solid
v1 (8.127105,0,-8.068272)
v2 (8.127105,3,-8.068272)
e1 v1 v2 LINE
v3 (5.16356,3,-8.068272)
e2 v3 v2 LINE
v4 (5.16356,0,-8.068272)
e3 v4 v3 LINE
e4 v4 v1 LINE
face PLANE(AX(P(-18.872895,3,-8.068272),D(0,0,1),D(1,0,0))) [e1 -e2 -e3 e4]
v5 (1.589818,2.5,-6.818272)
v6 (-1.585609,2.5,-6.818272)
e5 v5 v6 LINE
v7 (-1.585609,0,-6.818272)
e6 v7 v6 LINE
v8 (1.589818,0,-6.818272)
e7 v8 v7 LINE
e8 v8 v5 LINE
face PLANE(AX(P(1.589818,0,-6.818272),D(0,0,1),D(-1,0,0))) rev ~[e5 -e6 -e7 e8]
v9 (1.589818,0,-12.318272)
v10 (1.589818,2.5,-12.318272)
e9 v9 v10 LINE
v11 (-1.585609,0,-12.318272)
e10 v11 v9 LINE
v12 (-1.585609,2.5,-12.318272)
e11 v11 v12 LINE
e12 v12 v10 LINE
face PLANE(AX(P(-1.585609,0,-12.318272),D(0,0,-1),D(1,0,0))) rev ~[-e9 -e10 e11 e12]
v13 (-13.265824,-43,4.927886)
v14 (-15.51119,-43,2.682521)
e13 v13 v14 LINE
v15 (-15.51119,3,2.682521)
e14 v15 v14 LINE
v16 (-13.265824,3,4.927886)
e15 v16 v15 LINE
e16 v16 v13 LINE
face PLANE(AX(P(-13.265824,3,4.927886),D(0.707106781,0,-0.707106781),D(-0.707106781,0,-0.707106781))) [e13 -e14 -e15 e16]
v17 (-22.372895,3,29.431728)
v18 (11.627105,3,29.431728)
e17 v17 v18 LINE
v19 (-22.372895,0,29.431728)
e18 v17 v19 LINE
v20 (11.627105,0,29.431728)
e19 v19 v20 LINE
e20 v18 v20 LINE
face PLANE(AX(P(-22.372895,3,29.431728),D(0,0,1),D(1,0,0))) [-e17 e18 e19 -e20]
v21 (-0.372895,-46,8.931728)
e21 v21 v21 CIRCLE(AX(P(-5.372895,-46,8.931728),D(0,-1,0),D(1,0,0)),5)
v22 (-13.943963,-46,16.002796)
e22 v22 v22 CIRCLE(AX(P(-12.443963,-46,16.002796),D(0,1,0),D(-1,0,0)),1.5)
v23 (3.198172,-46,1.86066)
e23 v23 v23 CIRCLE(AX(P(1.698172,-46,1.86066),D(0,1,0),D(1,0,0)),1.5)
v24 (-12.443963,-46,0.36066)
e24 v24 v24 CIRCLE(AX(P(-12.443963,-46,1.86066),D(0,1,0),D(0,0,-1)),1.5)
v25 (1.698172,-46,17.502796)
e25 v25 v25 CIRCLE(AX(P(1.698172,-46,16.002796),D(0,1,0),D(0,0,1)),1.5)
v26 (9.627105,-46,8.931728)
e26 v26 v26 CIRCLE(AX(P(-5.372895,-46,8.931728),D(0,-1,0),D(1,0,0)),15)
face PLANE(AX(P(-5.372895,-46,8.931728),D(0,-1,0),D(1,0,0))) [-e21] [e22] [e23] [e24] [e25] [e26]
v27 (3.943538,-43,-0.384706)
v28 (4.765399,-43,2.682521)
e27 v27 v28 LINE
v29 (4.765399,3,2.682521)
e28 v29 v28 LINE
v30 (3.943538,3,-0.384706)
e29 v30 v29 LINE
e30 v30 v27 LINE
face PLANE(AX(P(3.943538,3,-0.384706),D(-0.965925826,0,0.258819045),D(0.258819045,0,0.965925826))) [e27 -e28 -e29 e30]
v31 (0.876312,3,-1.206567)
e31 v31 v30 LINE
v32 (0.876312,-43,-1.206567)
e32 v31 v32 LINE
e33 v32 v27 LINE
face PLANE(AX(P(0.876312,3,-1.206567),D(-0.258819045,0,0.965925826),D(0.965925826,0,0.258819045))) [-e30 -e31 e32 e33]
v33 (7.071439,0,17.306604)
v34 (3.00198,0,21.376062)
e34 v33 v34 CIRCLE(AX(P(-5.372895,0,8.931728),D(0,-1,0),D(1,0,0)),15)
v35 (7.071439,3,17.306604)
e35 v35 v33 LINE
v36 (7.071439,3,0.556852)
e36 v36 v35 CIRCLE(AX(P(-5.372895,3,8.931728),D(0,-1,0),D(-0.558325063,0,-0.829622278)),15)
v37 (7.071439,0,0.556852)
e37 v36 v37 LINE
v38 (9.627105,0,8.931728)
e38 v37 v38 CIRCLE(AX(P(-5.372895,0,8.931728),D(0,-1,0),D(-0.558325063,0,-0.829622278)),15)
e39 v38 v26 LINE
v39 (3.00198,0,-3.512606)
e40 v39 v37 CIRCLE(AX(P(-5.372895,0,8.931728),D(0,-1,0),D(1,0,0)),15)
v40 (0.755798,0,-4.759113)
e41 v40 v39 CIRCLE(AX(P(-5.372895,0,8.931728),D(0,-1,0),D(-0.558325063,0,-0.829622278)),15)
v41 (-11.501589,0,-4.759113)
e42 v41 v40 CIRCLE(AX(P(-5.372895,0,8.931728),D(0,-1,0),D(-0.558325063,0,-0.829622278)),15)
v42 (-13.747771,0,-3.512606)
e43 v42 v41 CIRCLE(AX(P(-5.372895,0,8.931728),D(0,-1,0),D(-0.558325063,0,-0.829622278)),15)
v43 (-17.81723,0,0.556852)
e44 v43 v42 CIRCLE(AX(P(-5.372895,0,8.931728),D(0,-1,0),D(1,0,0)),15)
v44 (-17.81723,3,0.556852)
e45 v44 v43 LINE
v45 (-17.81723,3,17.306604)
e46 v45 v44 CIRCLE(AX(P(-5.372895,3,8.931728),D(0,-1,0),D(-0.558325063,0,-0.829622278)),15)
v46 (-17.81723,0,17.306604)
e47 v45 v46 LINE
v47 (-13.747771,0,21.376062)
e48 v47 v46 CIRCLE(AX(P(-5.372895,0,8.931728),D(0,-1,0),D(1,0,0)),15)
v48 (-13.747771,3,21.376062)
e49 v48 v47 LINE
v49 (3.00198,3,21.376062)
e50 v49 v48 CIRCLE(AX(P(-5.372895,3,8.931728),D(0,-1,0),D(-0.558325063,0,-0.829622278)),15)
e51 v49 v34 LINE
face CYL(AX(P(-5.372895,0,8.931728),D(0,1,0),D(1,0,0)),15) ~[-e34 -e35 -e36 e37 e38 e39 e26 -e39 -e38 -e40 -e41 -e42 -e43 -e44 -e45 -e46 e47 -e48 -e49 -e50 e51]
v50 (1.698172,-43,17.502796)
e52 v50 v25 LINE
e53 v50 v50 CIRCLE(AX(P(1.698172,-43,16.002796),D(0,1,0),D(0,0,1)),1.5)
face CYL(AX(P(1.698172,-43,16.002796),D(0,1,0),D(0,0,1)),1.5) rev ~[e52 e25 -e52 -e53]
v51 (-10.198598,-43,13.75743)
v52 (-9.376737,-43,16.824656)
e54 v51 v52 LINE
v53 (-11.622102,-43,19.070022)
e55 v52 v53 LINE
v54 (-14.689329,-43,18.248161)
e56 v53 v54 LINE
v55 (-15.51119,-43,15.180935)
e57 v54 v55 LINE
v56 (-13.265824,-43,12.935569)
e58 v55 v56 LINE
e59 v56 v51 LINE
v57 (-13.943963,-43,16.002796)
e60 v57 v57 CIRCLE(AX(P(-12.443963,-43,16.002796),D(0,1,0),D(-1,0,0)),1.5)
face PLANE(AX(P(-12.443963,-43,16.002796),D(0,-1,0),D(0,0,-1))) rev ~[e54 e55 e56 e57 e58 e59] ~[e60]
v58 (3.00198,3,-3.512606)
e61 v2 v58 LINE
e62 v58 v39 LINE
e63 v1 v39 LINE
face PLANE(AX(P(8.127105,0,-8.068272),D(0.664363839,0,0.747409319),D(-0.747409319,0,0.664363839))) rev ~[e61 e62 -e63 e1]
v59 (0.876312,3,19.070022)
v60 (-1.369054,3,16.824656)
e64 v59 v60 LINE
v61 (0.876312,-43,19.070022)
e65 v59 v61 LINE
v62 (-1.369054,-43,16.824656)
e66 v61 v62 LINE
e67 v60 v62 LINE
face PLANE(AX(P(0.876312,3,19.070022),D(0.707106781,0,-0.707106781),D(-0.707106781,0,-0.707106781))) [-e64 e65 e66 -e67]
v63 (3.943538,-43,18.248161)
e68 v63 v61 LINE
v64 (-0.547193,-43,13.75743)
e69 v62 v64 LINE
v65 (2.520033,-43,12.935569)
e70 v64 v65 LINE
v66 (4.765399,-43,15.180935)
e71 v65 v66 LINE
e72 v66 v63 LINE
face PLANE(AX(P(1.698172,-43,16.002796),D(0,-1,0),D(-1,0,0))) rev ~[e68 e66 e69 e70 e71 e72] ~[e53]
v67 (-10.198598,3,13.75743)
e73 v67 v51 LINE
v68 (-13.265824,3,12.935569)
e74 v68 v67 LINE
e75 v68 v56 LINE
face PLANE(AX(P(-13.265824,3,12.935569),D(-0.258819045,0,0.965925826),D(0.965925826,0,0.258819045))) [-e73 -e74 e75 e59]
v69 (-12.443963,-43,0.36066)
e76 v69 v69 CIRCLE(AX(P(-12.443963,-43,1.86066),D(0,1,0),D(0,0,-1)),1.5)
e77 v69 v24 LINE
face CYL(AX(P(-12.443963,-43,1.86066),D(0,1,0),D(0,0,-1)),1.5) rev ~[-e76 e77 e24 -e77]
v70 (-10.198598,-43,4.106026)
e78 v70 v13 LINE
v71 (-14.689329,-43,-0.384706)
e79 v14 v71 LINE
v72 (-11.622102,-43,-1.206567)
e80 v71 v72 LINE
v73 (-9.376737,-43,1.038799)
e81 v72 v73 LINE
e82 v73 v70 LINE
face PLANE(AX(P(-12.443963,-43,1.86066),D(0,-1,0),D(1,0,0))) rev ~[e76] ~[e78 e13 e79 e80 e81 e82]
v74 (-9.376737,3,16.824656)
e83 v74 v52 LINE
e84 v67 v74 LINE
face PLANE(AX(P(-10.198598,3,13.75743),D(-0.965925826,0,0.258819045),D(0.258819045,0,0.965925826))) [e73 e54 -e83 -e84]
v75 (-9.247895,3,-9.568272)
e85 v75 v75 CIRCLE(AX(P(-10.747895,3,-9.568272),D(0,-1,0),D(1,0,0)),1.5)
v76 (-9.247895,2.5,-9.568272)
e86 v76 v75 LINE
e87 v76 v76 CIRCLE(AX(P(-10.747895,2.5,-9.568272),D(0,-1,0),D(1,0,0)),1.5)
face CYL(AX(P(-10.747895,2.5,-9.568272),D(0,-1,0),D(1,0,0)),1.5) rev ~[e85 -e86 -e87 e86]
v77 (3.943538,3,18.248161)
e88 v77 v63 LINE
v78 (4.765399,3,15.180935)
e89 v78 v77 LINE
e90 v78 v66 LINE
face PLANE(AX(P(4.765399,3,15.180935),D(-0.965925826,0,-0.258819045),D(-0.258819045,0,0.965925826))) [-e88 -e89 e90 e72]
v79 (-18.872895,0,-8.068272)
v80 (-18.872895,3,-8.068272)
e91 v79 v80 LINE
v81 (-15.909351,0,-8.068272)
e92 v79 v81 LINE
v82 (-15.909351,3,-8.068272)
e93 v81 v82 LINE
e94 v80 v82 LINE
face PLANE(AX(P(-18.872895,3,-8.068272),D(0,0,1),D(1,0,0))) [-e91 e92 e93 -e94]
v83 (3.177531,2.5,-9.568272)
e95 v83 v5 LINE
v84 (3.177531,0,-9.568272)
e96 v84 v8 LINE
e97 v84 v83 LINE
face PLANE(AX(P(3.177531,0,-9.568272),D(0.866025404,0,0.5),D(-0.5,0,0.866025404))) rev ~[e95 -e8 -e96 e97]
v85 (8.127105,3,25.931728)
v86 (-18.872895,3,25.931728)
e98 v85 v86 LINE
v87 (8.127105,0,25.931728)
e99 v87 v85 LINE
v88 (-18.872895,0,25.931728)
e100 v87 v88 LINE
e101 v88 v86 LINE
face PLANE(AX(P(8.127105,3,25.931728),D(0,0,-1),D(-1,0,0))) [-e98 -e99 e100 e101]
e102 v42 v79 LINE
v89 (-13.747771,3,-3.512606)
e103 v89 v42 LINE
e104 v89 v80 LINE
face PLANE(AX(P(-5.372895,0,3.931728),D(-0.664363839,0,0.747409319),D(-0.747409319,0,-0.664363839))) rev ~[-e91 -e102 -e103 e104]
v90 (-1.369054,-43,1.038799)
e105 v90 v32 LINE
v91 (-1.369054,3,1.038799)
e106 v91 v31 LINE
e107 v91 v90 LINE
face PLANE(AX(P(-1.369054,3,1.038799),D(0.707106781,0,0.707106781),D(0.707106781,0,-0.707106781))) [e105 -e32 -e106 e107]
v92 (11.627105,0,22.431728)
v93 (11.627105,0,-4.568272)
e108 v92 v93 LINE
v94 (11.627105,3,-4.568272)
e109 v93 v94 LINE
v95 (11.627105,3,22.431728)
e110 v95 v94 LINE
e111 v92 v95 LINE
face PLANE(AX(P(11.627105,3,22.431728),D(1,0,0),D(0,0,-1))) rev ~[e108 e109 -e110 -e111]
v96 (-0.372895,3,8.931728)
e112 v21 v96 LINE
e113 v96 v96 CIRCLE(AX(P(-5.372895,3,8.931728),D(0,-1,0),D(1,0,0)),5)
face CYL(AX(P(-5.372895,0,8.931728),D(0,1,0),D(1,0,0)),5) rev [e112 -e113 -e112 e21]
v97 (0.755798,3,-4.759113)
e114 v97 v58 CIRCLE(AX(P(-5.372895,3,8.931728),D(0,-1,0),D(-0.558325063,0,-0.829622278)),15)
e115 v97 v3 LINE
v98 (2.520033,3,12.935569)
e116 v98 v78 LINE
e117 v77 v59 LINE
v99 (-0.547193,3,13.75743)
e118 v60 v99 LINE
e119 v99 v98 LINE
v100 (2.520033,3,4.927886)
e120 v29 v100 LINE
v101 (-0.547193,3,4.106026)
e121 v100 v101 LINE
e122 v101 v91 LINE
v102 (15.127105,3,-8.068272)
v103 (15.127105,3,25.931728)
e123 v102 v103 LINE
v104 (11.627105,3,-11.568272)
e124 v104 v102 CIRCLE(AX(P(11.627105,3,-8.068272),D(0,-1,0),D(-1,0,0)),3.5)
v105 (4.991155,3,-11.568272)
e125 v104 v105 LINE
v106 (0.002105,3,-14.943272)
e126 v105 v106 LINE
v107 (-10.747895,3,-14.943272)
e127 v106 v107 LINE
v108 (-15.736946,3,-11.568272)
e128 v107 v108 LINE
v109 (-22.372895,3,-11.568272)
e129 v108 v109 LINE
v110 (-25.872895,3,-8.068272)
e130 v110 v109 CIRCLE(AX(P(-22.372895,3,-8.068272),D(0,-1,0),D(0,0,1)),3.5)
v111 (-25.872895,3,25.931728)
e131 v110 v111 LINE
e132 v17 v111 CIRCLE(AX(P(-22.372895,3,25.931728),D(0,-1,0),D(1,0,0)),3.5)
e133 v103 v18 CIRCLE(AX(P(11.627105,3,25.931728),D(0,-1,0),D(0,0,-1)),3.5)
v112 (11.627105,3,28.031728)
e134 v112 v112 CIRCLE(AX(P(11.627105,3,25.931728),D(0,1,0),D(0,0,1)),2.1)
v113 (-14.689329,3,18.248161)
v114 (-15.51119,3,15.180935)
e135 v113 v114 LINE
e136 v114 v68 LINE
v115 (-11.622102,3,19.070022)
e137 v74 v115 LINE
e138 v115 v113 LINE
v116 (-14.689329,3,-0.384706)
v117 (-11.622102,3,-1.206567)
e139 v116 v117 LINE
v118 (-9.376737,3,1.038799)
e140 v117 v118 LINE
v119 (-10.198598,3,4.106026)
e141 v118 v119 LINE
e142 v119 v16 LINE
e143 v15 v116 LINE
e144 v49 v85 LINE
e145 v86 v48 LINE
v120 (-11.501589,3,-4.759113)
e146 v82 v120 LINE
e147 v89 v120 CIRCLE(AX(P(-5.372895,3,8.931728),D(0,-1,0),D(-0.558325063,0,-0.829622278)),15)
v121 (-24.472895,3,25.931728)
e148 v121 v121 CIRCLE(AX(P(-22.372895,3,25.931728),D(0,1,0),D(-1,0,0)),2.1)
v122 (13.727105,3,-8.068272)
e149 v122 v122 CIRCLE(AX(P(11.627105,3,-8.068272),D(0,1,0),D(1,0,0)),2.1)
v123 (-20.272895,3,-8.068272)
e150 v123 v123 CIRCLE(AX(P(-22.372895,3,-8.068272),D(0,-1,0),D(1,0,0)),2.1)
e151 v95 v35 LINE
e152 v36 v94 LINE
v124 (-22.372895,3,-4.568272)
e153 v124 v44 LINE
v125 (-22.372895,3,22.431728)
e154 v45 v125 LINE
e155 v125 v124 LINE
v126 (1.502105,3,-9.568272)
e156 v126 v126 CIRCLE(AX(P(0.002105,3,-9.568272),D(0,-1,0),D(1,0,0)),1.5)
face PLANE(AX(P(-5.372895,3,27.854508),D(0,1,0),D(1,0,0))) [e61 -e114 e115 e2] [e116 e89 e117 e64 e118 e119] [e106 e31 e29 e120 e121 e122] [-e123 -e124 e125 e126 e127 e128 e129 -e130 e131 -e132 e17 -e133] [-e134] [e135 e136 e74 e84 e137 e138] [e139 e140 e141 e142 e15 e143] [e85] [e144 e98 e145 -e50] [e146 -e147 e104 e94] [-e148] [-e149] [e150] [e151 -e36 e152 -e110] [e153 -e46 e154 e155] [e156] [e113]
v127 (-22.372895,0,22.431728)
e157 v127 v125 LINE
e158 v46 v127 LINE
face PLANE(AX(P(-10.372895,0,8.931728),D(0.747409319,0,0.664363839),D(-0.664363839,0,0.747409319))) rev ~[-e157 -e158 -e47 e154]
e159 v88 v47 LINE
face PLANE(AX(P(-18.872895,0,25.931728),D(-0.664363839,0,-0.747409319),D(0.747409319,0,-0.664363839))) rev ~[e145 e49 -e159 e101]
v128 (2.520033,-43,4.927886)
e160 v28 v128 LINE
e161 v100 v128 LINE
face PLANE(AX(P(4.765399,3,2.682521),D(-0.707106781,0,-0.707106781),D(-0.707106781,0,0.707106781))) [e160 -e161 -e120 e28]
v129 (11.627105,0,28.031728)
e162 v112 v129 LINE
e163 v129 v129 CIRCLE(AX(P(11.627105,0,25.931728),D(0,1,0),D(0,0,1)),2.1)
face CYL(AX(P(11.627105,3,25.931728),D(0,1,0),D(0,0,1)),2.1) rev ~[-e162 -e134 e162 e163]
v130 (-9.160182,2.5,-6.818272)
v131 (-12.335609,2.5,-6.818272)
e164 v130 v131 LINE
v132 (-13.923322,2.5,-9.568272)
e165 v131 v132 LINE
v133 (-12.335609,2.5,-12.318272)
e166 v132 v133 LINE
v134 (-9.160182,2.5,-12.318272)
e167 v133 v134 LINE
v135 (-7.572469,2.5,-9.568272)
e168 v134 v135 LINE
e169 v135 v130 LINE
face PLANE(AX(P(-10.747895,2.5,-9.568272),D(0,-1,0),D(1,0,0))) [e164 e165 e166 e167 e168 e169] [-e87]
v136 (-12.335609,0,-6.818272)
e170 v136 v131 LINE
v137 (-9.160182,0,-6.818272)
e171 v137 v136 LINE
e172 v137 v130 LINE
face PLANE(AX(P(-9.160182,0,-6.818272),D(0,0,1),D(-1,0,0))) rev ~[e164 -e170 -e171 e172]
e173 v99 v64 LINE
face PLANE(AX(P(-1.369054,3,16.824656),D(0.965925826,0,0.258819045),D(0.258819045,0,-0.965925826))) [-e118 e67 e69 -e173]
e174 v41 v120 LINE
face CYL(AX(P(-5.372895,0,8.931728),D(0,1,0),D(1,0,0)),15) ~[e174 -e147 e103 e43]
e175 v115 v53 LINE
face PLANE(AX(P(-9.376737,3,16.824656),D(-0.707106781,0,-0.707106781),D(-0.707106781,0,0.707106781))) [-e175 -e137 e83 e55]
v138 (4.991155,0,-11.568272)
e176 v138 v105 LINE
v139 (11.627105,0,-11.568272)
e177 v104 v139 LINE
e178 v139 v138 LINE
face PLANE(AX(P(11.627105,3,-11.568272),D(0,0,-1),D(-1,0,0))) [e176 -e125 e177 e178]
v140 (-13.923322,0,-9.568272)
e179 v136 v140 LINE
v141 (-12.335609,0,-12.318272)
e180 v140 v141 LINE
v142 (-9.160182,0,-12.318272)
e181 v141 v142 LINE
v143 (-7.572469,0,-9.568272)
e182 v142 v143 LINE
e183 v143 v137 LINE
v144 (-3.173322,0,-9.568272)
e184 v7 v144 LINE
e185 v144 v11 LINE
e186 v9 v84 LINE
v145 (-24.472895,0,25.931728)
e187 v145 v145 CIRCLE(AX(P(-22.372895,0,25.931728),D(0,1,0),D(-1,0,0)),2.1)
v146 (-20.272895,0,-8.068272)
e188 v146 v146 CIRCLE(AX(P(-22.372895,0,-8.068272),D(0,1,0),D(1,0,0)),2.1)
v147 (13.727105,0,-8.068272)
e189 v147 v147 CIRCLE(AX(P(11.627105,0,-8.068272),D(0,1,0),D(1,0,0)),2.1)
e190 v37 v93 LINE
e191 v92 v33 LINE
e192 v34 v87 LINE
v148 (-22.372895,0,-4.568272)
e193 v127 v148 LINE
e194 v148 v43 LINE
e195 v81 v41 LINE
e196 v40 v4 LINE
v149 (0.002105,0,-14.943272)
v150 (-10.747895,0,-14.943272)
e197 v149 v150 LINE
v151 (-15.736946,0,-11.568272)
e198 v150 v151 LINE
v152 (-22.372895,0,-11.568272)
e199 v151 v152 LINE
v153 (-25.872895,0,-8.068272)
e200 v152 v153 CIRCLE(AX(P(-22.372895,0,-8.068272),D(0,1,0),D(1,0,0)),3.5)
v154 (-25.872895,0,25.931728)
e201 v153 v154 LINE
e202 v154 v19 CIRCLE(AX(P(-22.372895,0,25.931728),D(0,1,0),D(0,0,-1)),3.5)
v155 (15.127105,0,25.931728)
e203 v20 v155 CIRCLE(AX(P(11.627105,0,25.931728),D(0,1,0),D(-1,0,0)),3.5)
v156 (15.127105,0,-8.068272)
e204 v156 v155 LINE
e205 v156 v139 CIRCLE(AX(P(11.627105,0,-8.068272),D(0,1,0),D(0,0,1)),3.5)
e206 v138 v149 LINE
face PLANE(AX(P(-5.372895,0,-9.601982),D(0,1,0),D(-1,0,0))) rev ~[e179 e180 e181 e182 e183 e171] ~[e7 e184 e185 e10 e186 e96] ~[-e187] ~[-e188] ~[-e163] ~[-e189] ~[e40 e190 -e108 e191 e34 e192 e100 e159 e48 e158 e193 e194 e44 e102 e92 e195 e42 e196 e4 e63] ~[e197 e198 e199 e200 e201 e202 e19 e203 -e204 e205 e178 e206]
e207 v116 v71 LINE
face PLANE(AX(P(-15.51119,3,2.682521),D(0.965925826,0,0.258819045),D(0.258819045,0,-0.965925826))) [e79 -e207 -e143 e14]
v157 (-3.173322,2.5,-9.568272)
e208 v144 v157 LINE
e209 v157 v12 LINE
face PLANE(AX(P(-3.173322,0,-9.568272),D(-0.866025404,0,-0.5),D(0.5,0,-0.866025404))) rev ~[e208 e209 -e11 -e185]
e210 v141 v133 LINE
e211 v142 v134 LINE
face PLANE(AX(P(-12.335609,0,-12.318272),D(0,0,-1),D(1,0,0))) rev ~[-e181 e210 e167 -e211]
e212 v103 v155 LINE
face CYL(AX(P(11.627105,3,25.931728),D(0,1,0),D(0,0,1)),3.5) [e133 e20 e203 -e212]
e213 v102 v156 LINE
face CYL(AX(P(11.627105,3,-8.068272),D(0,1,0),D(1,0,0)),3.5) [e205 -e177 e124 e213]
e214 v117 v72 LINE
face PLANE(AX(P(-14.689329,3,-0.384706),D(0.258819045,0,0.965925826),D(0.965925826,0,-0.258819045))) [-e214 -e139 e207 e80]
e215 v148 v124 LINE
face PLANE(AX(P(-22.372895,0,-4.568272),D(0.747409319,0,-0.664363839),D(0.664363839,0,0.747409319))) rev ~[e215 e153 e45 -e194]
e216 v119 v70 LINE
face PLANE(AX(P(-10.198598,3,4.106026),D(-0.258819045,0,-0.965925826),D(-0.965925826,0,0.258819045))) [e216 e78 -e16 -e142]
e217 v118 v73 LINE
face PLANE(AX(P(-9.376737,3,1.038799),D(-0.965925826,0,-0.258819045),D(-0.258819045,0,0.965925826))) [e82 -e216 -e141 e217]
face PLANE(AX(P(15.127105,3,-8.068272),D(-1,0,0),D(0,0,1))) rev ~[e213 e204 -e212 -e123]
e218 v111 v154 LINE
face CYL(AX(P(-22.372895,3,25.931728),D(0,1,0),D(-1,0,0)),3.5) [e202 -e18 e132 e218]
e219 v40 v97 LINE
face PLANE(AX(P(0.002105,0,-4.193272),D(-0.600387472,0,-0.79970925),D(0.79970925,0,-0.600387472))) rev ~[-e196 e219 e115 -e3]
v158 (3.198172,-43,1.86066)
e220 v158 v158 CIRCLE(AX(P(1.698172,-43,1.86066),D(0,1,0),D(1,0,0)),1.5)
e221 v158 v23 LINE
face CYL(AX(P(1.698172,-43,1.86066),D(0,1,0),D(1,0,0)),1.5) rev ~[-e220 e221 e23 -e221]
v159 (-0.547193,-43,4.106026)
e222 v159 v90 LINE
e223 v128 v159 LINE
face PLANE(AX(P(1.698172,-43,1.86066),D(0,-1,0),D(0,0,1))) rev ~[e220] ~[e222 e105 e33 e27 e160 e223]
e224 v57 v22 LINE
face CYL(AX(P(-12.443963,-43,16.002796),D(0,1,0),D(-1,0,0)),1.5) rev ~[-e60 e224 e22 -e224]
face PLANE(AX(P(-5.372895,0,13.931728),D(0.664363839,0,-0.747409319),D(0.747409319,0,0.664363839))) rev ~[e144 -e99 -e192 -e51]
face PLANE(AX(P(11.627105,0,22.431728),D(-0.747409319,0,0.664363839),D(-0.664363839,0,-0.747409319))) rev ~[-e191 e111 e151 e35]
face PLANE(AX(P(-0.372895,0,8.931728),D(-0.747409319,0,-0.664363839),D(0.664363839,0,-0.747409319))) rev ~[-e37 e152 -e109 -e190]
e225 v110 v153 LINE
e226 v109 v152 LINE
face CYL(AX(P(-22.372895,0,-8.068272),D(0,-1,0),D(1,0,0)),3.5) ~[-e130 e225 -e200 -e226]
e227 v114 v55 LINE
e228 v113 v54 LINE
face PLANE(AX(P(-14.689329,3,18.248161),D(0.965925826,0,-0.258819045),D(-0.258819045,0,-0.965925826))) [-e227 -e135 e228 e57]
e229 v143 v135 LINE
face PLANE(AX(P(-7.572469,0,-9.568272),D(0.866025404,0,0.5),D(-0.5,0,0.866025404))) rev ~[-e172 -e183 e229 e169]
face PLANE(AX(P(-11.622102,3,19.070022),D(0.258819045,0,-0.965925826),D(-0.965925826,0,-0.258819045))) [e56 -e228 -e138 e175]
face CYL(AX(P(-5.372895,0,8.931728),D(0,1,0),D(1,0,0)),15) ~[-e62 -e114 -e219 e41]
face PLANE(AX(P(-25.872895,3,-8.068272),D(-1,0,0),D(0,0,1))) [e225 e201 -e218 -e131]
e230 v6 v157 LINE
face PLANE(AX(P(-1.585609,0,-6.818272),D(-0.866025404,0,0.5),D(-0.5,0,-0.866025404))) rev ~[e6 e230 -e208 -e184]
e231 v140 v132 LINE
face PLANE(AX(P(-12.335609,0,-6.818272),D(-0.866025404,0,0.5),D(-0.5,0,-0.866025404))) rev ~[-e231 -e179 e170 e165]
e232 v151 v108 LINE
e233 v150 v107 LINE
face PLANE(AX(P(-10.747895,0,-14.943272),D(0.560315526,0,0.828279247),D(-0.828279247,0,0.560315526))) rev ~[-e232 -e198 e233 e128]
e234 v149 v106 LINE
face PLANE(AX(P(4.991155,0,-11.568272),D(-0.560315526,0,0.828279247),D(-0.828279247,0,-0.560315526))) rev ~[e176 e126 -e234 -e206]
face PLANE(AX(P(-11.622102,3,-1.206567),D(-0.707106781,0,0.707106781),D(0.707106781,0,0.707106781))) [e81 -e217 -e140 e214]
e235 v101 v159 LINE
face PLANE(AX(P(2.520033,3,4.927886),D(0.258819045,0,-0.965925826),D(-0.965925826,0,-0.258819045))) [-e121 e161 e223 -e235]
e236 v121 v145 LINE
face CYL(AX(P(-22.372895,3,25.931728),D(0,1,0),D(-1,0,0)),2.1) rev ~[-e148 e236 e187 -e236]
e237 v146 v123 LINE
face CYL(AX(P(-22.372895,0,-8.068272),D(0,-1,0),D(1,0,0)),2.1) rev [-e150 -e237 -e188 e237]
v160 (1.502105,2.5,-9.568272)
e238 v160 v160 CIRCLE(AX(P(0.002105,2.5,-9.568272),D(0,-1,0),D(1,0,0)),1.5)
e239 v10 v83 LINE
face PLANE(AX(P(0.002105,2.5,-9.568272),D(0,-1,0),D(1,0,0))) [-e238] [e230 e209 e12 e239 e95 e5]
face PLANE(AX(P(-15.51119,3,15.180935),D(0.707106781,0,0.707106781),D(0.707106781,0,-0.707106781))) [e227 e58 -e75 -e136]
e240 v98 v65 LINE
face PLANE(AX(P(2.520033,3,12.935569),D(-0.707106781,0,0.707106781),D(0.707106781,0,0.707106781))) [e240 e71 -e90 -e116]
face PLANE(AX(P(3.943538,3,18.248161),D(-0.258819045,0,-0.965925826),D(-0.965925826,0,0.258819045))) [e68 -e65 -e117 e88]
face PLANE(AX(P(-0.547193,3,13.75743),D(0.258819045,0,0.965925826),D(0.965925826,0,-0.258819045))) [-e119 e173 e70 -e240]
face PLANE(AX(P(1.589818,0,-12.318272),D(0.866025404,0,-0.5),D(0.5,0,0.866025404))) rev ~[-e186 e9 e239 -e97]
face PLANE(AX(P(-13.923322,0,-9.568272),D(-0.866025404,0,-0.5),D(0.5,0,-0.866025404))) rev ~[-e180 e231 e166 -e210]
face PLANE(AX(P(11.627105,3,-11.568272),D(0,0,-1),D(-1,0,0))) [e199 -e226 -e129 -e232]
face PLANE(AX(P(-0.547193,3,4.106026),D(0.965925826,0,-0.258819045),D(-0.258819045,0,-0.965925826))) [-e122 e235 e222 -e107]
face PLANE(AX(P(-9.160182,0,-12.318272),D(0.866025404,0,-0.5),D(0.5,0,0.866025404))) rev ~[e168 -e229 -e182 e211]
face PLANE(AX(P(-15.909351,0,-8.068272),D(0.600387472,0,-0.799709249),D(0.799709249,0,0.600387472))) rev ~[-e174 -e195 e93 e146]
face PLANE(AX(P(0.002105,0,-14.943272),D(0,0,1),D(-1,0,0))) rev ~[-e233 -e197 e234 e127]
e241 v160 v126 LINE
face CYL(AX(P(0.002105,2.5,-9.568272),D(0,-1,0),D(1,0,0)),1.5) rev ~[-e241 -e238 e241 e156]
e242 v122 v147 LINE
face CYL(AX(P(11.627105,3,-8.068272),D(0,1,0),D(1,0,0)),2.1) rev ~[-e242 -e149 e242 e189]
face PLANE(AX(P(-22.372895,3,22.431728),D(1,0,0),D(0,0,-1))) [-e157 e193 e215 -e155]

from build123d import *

# Parameters (mm, degrees)
SKETCH_1_R               = 15
SKETCH_1_R_2             = 5
EXTRUDE_4_DEPTH          = 3
SKETCH_1_R_3             = 3.5
SKETCH_1_R_4             = 2.1
EXTRUDE_4_2_DEPTH        = 3
EXTRUDE_5_DEPTH          = 3
PATTERN_CIRCULAR_2_COUNT = 4
SKETCH_6_R               = 3.5
SKETCH_6_R_2             = 2.1
EXTRUDE_6_DEPTH          = 3
PATTERN_CIRCULAR_3_COUNT = 4
SKETCH_7_R               = 15
SKETCH_7_R_2             = 5
EXTRUDE_7_DEPTH          = 46
CUT_EXTRUDE_1_DEPTH      = 46
PATTERN_CIRCULAR_4_COUNT = 4
SKETCH_11_R              = 1.5
CUT_EXTRUDE_2_DEPTH      = 3
PATTERN_CIRCULAR_5_COUNT = 4
EXTRUDE_8_DEPTH          = 3
EXTRUDE_9_DEPTH          = 3
EXTRUDE_10_DEPTH         = 3
EXTRUDE_11_DEPTH         = 3
EXTRUDE_13_DEPTH         = 3
EXTRUDE_14_DEPTH         = 3
CUT_EXTRUDE_3_DEPTH      = 2.5
SKETCH_19_R              = 1.5
CUT_EXTRUDE_4_DEPTH      = 2.5
SKETCH_20_R              = 1.5
CUT_EXTRUDE_5_DEPTH      = 2.5
SKETCH_21_R              = 15
SKETCH_21_R_2            = 5
EXTRUDE_15_DEPTH         = 3
SKETCH_22_R              = 1.5
CUT_EXTRUDE_6_DEPTH      = 3
PATTERN_CIRCULAR_6_COUNT = 4
EXTRUDE_16_DEPTH         = 3
CUT_EXTRUDE_7_DEPTH      = 3
SKETCH_25_R              = 15
SKETCH_25_R_2            = 5
EXTRUDE_17_DEPTH         = 43
SKETCH_27_R              = 1.5
CUT_EXTRUDE_8_DEPTH      = 46
SKETCH_28_R              = 2.75
CUT_EXTRUDE_9_DEPTH      = 43
SKETCH_29_R              = 1.5
CUT_EXTRUDE_10_DEPTH     = 46
PATTERN_CIRCULAR_7_COUNT = 4
CUT_EXTRUDE_11_DEPTH     = 43
PATTERN_CIRCULAR_8_COUNT = 4
SKETCH_31_R              = 29.741034773
CUT_EXTRUDE_12_DEPTH     = 100


with BuildPart() as part:
    # 草图1 → 凸台-拉伸4 (new body)
    with BuildSketch(Plane(origin=(0, 0, 0), x_dir=(1, 0, 0), z_dir=(0, 1, 0))):
        with Locations((-5.372895461, -8.931727747)):
            Circle(SKETCH_1_R)
        with Locations((-5.372895461, -8.931727747)):
            Circle(SKETCH_1_R_2, mode=Mode.SUBTRACT)
    extrude(amount=EXTRUDE_4_DEPTH)



with BuildPart() as body_2:
    # 草图1 → Extrude 4 2 (new body)
    with BuildSketch(Plane(origin=(0, 0, 0), x_dir=(1, 0, 0), z_dir=(0, 1, 0))):
        with Locations((-22.372895461, 8.068272253)):
            Circle(SKETCH_1_R_3)
        with Locations((-22.372895461, 8.068272253)):
            Circle(SKETCH_1_R_4, mode=Mode.SUBTRACT)
    extrude(amount=EXTRUDE_4_2_DEPTH)


with BuildPart() as part_1:
    add(part.part)

    add(body_2.part)  # 凸台-拉伸5 merges body 2
    # 草图5 → 凸台-拉伸5 (add)
    with BuildSketch(Plane(origin=(0, 0, 0), x_dir=(1, 0, 0), z_dir=(0, 1, 0))):
        Polygon((-22.372895461, 4.568272253), (-10.372895461, -8.931727747), (-10.372895461, -3.931727747), (-5.372895461, -3.931727747), (-18.872895461, 8.068272253), align=None)
    extrude_5 = extrude(amount=EXTRUDE_5_DEPTH)

    # 阵列(圆周)2: 凸台-拉伸5 ×4 about axis
    pattern_circular_2_axis = Axis((-5.372895461, 0, 8.931727747), (0, 1, 0))
    for i in range(1, PATTERN_CIRCULAR_2_COUNT):
        add(extrude_5.rotate(pattern_circular_2_axis, i * 360 / PATTERN_CIRCULAR_2_COUNT))

    # 草图6 → 凸台-拉伸6 (add)
    with BuildSketch(Plane(origin=(0, 3, 0), x_dir=(1, 0, 0), z_dir=(0, 1, 0))):
        with Locations((11.627104539, 8.068272253)):
            Circle(SKETCH_6_R)
        with Locations((11.627104539, 8.068272253)):
            Circle(SKETCH_6_R_2, mode=Mode.SUBTRACT)
    extrude_6 = extrude(amount=-EXTRUDE_6_DEPTH)

    # 阵列(圆周)3: 凸台-拉伸6 ×4 about axis
    pattern_circular_3_axis = Axis((-5.372895461, 0, 8.931727747), (0, 1, 0))
    for i in range(1, PATTERN_CIRCULAR_3_COUNT):
        add(extrude_6.rotate(pattern_circular_3_axis, i * 360 / PATTERN_CIRCULAR_3_COUNT))

    # 草图7 → 凸台-拉伸7 (add)
    with BuildSketch(Plane.XZ):
        with Locations((-5.372895461, 8.931727747)):
            Circle(SKETCH_7_R)
        with Locations((-5.372895461, 8.931727747)):
            Circle(SKETCH_7_R_2, mode=Mode.SUBTRACT)
    extrude(amount=EXTRUDE_7_DEPTH)

    # 草图9 → 切除-拉伸1 (cut)
    with BuildSketch(Plane(origin=(0, 3, 0), x_dir=(1, 0, 0), z_dir=(0, 1, 0))):
        Polygon((0.876311502, -19.070022006), (-1.369054096, -16.824656408), (-0.547193246, -13.757429961), (2.520033201, -12.935569112), (4.765398798, -15.180934709), (3.943537949, -18.248161156), align=None)
    cut_extrude_1 = extrude(amount=-CUT_EXTRUDE_1_DEPTH, mode=Mode.SUBTRACT)

    # 阵列(圆周)4: 切除-拉伸1 ×4 about axis
    pattern_circular_4_axis = Axis((-5.372895461, 0, 8.931727747), (0, 1, 0))
    for i in range(1, PATTERN_CIRCULAR_4_COUNT):
        add(cut_extrude_1.rotate(pattern_circular_4_axis, i * 360 / PATTERN_CIRCULAR_4_COUNT), mode=Mode.SUBTRACT)

    # 草图11 → 切除-拉伸2 (cut)
    with BuildSketch(Plane(origin=(0, -43, 0), x_dir=(1, 0, 0), z_dir=(0, 1, 0))):
        with Locations((1.698172351, -1.860659935)):
            Circle(SKETCH_11_R)
    cut_extrude_2 = extrude(amount=-CUT_EXTRUDE_2_DEPTH, mode=Mode.SUBTRACT)

    # 阵列(圆周)5: 切除-拉伸2 ×4 about axis
    pattern_circular_5_axis = Axis((-5.372895461, 0, 8.931727747), (0, 1, 0))
    for i in range(1, PATTERN_CIRCULAR_5_COUNT):
        add(cut_extrude_2.rotate(pattern_circular_5_axis, i * 360 / PATTERN_CIRCULAR_5_COUNT), mode=Mode.SUBTRACT)

    # 草图12 → 凸台-拉伸8 (add)
    with BuildSketch(Plane(origin=(0, 3, 0), x_dir=(1, 0, 0), z_dir=(0, 1, 0))):
        Polygon((15.127104539, 8.068272253), (15.127104539, -25.931727747), (11.627104539, -22.431727747), (11.627104539, 4.568272253), align=None)
    extrude(amount=-EXTRUDE_8_DEPTH)

    # 草图13 → 凸台-拉伸9 (add)
    with BuildSketch(Plane(origin=(0, 3, 0), x_dir=(1, 0, 0), z_dir=(0, 1, 0))):
        Polygon((11.627104539, 11.568272253), (-22.372895461, 11.568272253), (-18.872895461, 8.068272253), (8.127104539, 8.068272253), align=None)
    extrude(amount=-EXTRUDE_9_DEPTH)

    # 草图14 → 凸台-拉伸10 (add)
    with BuildSketch(Plane(origin=(0, 3, 0), x_dir=(1, 0, 0), z_dir=(0, 1, 0))):
        Polygon((-25.872895461, 8.068272253), (-25.872895461, -25.931727747), (-22.372895461, -22.431727747), (-22.372895461, 4.568272253), align=None)
    extrude(amount=-EXTRUDE_10_DEPTH)

    # 草图15 → 凸台-拉伸11 (add)
    with BuildSketch(Plane(origin=(0, 3, 0), x_dir=(1, 0, 0), z_dir=(0, 1, 0))):
        Polygon((-22.372895461, -29.431727747), (11.627104539, -29.431727747), (8.127104539, -25.931727747), (-18.872895461, -25.931727747), align=None)
    extrude(amount=-EXTRUDE_11_DEPTH)

    # 草图16 → 凸台-拉伸13 (add)
    with BuildSketch(Plane.XZ):
        Polygon((-10.747895461, -4.193272253), (0.002104539, -4.193272253), (5.163560245, -8.068272253), (4.99115505, -11.568272253), (0.002104539, -14.943272253), (-10.747895461, -14.943272253), (-15.736945971, -11.568272253), (-15.909351166, -8.068272253), align=None)
        Polygon((-7.57246898, -9.568272253), (-9.16018222, -6.818272253), (-12.335608701, -6.818272253), (-13.923321941, -9.568272253), (-12.335608701, -12.318272253), (-9.16018222, -12.318272253), align=None, mode=Mode.SUBTRACT)
        Polygon((3.17753102, -9.568272253), (1.58981778, -6.818272253), (-1.585608701, -6.818272253), (-3.173321941, -9.568272253), (-1.585608701, -12.318272253), (1.58981778, -12.318272253), align=None, mode=Mode.SUBTRACT)
    extrude(amount=-EXTRUDE_13_DEPTH)

    # 草图18 → 凸台-拉伸14 (add)
    with BuildSketch(Plane.XZ):
        Polygon((-7.57246898, -9.568272253), (-9.16018222, -6.818272253), (-12.335608701, -6.818272253), (-13.923321941, -9.568272253), (-12.335608701, -12.318272253), (-9.16018222, -12.318272253), align=None)
        Polygon((3.17753102, -9.568272253), (1.58981778, -6.818272253), (-1.585608701, -6.818272253), (-3.173321941, -9.568272253), (-1.585608701, -12.318272253), (1.58981778, -12.318272253), align=None)
    extrude(amount=-EXTRUDE_14_DEPTH)

    # 草图17 → 切除-拉伸3 (cut)
    with BuildSketch(Plane.XZ):
        Polygon((-7.57246898, -9.568272253), (-9.16018222, -6.818272253), (-12.335608701, -6.818272253), (-13.923321941, -9.568272253), (-12.335608701, -12.318272253), (-9.16018222, -12.318272253), align=None)
        Polygon((3.17753102, -9.568272253), (1.58981778, -6.818272253), (-1.585608701, -6.818272253), (-3.173321941, -9.568272253), (-1.585608701, -12.318272253), (1.58981778, -12.318272253), align=None)
    extrude(amount=-CUT_EXTRUDE_3_DEPTH, mode=Mode.SUBTRACT)

    # 草图19 → 切除-拉伸4 (cut)
    with BuildSketch(Plane.XZ.offset(-2.5)):
        with Locations((0.002104539, -9.568272253)):
            Circle(SKETCH_19_R)
    extrude(amount=-CUT_EXTRUDE_4_DEPTH, mode=Mode.SUBTRACT)

    # 草图20 → 切除-拉伸5 (cut)
    with BuildSketch(Plane.XZ.offset(-2.5)):
        with Locations((-10.747895461, -9.568272253)):
            Circle(SKETCH_20_R)
    extrude(amount=-CUT_EXTRUDE_5_DEPTH, mode=Mode.SUBTRACT)

    # 草图8 → 凸台-拉伸16 (add)
    with BuildSketch(Plane.XZ.offset(46)):
        Polygon((3.943537949, 18.248161156), (0.876311502, 19.070022006), (-1.369054096, 16.824656408), (-0.547193246, 13.757429961), (2.520033201, 12.935569112), (4.765398798, 15.180934709), align=None)
    extrude(amount=EXTRUDE_16_DEPTH)

    # 草图24 → 切除-拉伸7 (cut)
    with BuildSketch(Plane.XZ.offset(49)):
        Polygon((4.765398798, 15.180934709), (3.943537949, 18.248161156), (0.876311502, 19.070022006), (-1.369054096, 16.824656408), (-0.547193246, 13.757429961), (2.520033201, 12.935569112), align=None)
    extrude(amount=-CUT_EXTRUDE_7_DEPTH, mode=Mode.SUBTRACT)


with BuildPart() as body_2_2:
    # 草图21 → 凸台-拉伸15 (new body)
    with BuildSketch(Plane(origin=(0, 0, 0), x_dir=(1, 0, 0), z_dir=(0, 1, 0))):
        with Locations((59.665545214, -8.931727747)):
            Circle(SKETCH_21_R)
        with Locations((59.665545214, -8.931727747)):
            Circle(SKETCH_21_R_2, mode=Mode.SUBTRACT)
    extrude(amount=EXTRUDE_15_DEPTH)

    # 草图22 → 切除-拉伸6 (cut)
    with BuildSketch(Plane.XZ):
        with Locations((59.665545214, 18.931727747)):
            Circle(SKETCH_22_R)
    cut_extrude_6 = extrude(amount=-CUT_EXTRUDE_6_DEPTH, mode=Mode.SUBTRACT)

    # 阵列(圆周)6: 切除-拉伸6 ×4 about axis
    pattern_circular_6_axis = Axis((59.665545214, 0, 8.931727747), (0, 1, 0))
    for i in range(1, PATTERN_CIRCULAR_6_COUNT):
        add(cut_extrude_6.rotate(pattern_circular_6_axis, i * 360 / PATTERN_CIRCULAR_6_COUNT), mode=Mode.SUBTRACT)

    # 草图25 → 凸台-拉伸17 (add)
    with BuildSketch(Plane.XZ):
        with Locations((59.665545214, 8.931727747)):
            Circle(SKETCH_25_R)
        with Locations((59.665545214, 8.931727747)):
            Circle(SKETCH_25_R_2, mode=Mode.SUBTRACT)
    extrude(amount=EXTRUDE_17_DEPTH)

    # 草图27 → 切除-拉伸8 (cut)
    with BuildSketch(Plane(origin=(0, 3, 0), x_dir=(1, 0, 0), z_dir=(0, 1, 0))):
        with Locations((59.665545214, 1.068272253)):
            Circle(SKETCH_27_R)
        with Locations((69.665545214, -8.931727747)):
            Circle(SKETCH_27_R)
        with Locations((59.665545214, -18.931727747)):
            Circle(SKETCH_27_R)
        with Locations((49.665545214, -8.931727747)):
            Circle(SKETCH_27_R)
    extrude(amount=-CUT_EXTRUDE_8_DEPTH, mode=Mode.SUBTRACT)

    # 草图28 → 切除-拉伸9 (cut)
    with BuildSketch(Plane.XZ.offset(43)):
        with Locations((59.665545214, 18.931727747)):
            Circle(SKETCH_28_R)
        with Locations((49.665545214, 8.931727747)):
            Circle(SKETCH_28_R)
        with Locations((59.665545214, -1.068272253)):
            Circle(SKETCH_28_R)
        with Locations((69.665545214, 8.931727747)):
            Circle(SKETCH_28_R)
    extrude(amount=-CUT_EXTRUDE_9_DEPTH, mode=Mode.SUBTRACT)

    # 草图29 → 切除-拉伸10 (cut)
    with BuildSketch(Plane(origin=(0, 3, 0), x_dir=(1, 0, 0), z_dir=(0, 1, 0))):
        with Locations((66.736613026, -1.860659935)):
            Circle(SKETCH_29_R)
    cut_extrude_10 = extrude(amount=-CUT_EXTRUDE_10_DEPTH, mode=Mode.SUBTRACT)

    # 阵列(圆周)7: 切除-拉伸10 ×4 about axis
    pattern_circular_7_axis = Axis((59.665545214, 0, 8.931727747), (0, 1, 0))
    for i in range(1, PATTERN_CIRCULAR_7_COUNT):
        add(cut_extrude_10.rotate(pattern_circular_7_axis, i * 360 / PATTERN_CIRCULAR_7_COUNT), mode=Mode.SUBTRACT)

    # 草图30 → 切除-拉伸11 (cut)
    with BuildSketch(Plane(origin=(0, 3, 0), x_dir=(1, 0, 0), z_dir=(0, 1, 0))):
        Polygon((64.491247429, -4.106025533), (67.558473876, -4.927886382), (69.803839473, -2.682520785), (68.981978624, 0.384705662), (65.914752177, 1.206566512), (63.669386579, -1.038799086), align=None)
    cut_extrude_11 = extrude(amount=-CUT_EXTRUDE_11_DEPTH, mode=Mode.SUBTRACT)

    # 阵列(圆周)8: 切除-拉伸11 ×4 about axis
    pattern_circular_8_axis = Axis((59.665545214, 0, 8.931727747), (0, 1, 0))
    for i in range(1, PATTERN_CIRCULAR_8_COUNT):
        add(cut_extrude_11.rotate(pattern_circular_8_axis, i * 360 / PATTERN_CIRCULAR_8_COUNT), mode=Mode.SUBTRACT)

    # 草图31 → 切除-拉伸12 (cut)
    with BuildSketch(Plane(origin=(0, 3, 0), x_dir=(1, 0, 0), z_dir=(0, 1, 0))):
        with Locations((59.665545214, -8.931727747)):
            Circle(SKETCH_31_R)
    extrude(amount=-CUT_EXTRUDE_12_DEPTH, mode=Mode.SUBTRACT)


solid = part_1.part
